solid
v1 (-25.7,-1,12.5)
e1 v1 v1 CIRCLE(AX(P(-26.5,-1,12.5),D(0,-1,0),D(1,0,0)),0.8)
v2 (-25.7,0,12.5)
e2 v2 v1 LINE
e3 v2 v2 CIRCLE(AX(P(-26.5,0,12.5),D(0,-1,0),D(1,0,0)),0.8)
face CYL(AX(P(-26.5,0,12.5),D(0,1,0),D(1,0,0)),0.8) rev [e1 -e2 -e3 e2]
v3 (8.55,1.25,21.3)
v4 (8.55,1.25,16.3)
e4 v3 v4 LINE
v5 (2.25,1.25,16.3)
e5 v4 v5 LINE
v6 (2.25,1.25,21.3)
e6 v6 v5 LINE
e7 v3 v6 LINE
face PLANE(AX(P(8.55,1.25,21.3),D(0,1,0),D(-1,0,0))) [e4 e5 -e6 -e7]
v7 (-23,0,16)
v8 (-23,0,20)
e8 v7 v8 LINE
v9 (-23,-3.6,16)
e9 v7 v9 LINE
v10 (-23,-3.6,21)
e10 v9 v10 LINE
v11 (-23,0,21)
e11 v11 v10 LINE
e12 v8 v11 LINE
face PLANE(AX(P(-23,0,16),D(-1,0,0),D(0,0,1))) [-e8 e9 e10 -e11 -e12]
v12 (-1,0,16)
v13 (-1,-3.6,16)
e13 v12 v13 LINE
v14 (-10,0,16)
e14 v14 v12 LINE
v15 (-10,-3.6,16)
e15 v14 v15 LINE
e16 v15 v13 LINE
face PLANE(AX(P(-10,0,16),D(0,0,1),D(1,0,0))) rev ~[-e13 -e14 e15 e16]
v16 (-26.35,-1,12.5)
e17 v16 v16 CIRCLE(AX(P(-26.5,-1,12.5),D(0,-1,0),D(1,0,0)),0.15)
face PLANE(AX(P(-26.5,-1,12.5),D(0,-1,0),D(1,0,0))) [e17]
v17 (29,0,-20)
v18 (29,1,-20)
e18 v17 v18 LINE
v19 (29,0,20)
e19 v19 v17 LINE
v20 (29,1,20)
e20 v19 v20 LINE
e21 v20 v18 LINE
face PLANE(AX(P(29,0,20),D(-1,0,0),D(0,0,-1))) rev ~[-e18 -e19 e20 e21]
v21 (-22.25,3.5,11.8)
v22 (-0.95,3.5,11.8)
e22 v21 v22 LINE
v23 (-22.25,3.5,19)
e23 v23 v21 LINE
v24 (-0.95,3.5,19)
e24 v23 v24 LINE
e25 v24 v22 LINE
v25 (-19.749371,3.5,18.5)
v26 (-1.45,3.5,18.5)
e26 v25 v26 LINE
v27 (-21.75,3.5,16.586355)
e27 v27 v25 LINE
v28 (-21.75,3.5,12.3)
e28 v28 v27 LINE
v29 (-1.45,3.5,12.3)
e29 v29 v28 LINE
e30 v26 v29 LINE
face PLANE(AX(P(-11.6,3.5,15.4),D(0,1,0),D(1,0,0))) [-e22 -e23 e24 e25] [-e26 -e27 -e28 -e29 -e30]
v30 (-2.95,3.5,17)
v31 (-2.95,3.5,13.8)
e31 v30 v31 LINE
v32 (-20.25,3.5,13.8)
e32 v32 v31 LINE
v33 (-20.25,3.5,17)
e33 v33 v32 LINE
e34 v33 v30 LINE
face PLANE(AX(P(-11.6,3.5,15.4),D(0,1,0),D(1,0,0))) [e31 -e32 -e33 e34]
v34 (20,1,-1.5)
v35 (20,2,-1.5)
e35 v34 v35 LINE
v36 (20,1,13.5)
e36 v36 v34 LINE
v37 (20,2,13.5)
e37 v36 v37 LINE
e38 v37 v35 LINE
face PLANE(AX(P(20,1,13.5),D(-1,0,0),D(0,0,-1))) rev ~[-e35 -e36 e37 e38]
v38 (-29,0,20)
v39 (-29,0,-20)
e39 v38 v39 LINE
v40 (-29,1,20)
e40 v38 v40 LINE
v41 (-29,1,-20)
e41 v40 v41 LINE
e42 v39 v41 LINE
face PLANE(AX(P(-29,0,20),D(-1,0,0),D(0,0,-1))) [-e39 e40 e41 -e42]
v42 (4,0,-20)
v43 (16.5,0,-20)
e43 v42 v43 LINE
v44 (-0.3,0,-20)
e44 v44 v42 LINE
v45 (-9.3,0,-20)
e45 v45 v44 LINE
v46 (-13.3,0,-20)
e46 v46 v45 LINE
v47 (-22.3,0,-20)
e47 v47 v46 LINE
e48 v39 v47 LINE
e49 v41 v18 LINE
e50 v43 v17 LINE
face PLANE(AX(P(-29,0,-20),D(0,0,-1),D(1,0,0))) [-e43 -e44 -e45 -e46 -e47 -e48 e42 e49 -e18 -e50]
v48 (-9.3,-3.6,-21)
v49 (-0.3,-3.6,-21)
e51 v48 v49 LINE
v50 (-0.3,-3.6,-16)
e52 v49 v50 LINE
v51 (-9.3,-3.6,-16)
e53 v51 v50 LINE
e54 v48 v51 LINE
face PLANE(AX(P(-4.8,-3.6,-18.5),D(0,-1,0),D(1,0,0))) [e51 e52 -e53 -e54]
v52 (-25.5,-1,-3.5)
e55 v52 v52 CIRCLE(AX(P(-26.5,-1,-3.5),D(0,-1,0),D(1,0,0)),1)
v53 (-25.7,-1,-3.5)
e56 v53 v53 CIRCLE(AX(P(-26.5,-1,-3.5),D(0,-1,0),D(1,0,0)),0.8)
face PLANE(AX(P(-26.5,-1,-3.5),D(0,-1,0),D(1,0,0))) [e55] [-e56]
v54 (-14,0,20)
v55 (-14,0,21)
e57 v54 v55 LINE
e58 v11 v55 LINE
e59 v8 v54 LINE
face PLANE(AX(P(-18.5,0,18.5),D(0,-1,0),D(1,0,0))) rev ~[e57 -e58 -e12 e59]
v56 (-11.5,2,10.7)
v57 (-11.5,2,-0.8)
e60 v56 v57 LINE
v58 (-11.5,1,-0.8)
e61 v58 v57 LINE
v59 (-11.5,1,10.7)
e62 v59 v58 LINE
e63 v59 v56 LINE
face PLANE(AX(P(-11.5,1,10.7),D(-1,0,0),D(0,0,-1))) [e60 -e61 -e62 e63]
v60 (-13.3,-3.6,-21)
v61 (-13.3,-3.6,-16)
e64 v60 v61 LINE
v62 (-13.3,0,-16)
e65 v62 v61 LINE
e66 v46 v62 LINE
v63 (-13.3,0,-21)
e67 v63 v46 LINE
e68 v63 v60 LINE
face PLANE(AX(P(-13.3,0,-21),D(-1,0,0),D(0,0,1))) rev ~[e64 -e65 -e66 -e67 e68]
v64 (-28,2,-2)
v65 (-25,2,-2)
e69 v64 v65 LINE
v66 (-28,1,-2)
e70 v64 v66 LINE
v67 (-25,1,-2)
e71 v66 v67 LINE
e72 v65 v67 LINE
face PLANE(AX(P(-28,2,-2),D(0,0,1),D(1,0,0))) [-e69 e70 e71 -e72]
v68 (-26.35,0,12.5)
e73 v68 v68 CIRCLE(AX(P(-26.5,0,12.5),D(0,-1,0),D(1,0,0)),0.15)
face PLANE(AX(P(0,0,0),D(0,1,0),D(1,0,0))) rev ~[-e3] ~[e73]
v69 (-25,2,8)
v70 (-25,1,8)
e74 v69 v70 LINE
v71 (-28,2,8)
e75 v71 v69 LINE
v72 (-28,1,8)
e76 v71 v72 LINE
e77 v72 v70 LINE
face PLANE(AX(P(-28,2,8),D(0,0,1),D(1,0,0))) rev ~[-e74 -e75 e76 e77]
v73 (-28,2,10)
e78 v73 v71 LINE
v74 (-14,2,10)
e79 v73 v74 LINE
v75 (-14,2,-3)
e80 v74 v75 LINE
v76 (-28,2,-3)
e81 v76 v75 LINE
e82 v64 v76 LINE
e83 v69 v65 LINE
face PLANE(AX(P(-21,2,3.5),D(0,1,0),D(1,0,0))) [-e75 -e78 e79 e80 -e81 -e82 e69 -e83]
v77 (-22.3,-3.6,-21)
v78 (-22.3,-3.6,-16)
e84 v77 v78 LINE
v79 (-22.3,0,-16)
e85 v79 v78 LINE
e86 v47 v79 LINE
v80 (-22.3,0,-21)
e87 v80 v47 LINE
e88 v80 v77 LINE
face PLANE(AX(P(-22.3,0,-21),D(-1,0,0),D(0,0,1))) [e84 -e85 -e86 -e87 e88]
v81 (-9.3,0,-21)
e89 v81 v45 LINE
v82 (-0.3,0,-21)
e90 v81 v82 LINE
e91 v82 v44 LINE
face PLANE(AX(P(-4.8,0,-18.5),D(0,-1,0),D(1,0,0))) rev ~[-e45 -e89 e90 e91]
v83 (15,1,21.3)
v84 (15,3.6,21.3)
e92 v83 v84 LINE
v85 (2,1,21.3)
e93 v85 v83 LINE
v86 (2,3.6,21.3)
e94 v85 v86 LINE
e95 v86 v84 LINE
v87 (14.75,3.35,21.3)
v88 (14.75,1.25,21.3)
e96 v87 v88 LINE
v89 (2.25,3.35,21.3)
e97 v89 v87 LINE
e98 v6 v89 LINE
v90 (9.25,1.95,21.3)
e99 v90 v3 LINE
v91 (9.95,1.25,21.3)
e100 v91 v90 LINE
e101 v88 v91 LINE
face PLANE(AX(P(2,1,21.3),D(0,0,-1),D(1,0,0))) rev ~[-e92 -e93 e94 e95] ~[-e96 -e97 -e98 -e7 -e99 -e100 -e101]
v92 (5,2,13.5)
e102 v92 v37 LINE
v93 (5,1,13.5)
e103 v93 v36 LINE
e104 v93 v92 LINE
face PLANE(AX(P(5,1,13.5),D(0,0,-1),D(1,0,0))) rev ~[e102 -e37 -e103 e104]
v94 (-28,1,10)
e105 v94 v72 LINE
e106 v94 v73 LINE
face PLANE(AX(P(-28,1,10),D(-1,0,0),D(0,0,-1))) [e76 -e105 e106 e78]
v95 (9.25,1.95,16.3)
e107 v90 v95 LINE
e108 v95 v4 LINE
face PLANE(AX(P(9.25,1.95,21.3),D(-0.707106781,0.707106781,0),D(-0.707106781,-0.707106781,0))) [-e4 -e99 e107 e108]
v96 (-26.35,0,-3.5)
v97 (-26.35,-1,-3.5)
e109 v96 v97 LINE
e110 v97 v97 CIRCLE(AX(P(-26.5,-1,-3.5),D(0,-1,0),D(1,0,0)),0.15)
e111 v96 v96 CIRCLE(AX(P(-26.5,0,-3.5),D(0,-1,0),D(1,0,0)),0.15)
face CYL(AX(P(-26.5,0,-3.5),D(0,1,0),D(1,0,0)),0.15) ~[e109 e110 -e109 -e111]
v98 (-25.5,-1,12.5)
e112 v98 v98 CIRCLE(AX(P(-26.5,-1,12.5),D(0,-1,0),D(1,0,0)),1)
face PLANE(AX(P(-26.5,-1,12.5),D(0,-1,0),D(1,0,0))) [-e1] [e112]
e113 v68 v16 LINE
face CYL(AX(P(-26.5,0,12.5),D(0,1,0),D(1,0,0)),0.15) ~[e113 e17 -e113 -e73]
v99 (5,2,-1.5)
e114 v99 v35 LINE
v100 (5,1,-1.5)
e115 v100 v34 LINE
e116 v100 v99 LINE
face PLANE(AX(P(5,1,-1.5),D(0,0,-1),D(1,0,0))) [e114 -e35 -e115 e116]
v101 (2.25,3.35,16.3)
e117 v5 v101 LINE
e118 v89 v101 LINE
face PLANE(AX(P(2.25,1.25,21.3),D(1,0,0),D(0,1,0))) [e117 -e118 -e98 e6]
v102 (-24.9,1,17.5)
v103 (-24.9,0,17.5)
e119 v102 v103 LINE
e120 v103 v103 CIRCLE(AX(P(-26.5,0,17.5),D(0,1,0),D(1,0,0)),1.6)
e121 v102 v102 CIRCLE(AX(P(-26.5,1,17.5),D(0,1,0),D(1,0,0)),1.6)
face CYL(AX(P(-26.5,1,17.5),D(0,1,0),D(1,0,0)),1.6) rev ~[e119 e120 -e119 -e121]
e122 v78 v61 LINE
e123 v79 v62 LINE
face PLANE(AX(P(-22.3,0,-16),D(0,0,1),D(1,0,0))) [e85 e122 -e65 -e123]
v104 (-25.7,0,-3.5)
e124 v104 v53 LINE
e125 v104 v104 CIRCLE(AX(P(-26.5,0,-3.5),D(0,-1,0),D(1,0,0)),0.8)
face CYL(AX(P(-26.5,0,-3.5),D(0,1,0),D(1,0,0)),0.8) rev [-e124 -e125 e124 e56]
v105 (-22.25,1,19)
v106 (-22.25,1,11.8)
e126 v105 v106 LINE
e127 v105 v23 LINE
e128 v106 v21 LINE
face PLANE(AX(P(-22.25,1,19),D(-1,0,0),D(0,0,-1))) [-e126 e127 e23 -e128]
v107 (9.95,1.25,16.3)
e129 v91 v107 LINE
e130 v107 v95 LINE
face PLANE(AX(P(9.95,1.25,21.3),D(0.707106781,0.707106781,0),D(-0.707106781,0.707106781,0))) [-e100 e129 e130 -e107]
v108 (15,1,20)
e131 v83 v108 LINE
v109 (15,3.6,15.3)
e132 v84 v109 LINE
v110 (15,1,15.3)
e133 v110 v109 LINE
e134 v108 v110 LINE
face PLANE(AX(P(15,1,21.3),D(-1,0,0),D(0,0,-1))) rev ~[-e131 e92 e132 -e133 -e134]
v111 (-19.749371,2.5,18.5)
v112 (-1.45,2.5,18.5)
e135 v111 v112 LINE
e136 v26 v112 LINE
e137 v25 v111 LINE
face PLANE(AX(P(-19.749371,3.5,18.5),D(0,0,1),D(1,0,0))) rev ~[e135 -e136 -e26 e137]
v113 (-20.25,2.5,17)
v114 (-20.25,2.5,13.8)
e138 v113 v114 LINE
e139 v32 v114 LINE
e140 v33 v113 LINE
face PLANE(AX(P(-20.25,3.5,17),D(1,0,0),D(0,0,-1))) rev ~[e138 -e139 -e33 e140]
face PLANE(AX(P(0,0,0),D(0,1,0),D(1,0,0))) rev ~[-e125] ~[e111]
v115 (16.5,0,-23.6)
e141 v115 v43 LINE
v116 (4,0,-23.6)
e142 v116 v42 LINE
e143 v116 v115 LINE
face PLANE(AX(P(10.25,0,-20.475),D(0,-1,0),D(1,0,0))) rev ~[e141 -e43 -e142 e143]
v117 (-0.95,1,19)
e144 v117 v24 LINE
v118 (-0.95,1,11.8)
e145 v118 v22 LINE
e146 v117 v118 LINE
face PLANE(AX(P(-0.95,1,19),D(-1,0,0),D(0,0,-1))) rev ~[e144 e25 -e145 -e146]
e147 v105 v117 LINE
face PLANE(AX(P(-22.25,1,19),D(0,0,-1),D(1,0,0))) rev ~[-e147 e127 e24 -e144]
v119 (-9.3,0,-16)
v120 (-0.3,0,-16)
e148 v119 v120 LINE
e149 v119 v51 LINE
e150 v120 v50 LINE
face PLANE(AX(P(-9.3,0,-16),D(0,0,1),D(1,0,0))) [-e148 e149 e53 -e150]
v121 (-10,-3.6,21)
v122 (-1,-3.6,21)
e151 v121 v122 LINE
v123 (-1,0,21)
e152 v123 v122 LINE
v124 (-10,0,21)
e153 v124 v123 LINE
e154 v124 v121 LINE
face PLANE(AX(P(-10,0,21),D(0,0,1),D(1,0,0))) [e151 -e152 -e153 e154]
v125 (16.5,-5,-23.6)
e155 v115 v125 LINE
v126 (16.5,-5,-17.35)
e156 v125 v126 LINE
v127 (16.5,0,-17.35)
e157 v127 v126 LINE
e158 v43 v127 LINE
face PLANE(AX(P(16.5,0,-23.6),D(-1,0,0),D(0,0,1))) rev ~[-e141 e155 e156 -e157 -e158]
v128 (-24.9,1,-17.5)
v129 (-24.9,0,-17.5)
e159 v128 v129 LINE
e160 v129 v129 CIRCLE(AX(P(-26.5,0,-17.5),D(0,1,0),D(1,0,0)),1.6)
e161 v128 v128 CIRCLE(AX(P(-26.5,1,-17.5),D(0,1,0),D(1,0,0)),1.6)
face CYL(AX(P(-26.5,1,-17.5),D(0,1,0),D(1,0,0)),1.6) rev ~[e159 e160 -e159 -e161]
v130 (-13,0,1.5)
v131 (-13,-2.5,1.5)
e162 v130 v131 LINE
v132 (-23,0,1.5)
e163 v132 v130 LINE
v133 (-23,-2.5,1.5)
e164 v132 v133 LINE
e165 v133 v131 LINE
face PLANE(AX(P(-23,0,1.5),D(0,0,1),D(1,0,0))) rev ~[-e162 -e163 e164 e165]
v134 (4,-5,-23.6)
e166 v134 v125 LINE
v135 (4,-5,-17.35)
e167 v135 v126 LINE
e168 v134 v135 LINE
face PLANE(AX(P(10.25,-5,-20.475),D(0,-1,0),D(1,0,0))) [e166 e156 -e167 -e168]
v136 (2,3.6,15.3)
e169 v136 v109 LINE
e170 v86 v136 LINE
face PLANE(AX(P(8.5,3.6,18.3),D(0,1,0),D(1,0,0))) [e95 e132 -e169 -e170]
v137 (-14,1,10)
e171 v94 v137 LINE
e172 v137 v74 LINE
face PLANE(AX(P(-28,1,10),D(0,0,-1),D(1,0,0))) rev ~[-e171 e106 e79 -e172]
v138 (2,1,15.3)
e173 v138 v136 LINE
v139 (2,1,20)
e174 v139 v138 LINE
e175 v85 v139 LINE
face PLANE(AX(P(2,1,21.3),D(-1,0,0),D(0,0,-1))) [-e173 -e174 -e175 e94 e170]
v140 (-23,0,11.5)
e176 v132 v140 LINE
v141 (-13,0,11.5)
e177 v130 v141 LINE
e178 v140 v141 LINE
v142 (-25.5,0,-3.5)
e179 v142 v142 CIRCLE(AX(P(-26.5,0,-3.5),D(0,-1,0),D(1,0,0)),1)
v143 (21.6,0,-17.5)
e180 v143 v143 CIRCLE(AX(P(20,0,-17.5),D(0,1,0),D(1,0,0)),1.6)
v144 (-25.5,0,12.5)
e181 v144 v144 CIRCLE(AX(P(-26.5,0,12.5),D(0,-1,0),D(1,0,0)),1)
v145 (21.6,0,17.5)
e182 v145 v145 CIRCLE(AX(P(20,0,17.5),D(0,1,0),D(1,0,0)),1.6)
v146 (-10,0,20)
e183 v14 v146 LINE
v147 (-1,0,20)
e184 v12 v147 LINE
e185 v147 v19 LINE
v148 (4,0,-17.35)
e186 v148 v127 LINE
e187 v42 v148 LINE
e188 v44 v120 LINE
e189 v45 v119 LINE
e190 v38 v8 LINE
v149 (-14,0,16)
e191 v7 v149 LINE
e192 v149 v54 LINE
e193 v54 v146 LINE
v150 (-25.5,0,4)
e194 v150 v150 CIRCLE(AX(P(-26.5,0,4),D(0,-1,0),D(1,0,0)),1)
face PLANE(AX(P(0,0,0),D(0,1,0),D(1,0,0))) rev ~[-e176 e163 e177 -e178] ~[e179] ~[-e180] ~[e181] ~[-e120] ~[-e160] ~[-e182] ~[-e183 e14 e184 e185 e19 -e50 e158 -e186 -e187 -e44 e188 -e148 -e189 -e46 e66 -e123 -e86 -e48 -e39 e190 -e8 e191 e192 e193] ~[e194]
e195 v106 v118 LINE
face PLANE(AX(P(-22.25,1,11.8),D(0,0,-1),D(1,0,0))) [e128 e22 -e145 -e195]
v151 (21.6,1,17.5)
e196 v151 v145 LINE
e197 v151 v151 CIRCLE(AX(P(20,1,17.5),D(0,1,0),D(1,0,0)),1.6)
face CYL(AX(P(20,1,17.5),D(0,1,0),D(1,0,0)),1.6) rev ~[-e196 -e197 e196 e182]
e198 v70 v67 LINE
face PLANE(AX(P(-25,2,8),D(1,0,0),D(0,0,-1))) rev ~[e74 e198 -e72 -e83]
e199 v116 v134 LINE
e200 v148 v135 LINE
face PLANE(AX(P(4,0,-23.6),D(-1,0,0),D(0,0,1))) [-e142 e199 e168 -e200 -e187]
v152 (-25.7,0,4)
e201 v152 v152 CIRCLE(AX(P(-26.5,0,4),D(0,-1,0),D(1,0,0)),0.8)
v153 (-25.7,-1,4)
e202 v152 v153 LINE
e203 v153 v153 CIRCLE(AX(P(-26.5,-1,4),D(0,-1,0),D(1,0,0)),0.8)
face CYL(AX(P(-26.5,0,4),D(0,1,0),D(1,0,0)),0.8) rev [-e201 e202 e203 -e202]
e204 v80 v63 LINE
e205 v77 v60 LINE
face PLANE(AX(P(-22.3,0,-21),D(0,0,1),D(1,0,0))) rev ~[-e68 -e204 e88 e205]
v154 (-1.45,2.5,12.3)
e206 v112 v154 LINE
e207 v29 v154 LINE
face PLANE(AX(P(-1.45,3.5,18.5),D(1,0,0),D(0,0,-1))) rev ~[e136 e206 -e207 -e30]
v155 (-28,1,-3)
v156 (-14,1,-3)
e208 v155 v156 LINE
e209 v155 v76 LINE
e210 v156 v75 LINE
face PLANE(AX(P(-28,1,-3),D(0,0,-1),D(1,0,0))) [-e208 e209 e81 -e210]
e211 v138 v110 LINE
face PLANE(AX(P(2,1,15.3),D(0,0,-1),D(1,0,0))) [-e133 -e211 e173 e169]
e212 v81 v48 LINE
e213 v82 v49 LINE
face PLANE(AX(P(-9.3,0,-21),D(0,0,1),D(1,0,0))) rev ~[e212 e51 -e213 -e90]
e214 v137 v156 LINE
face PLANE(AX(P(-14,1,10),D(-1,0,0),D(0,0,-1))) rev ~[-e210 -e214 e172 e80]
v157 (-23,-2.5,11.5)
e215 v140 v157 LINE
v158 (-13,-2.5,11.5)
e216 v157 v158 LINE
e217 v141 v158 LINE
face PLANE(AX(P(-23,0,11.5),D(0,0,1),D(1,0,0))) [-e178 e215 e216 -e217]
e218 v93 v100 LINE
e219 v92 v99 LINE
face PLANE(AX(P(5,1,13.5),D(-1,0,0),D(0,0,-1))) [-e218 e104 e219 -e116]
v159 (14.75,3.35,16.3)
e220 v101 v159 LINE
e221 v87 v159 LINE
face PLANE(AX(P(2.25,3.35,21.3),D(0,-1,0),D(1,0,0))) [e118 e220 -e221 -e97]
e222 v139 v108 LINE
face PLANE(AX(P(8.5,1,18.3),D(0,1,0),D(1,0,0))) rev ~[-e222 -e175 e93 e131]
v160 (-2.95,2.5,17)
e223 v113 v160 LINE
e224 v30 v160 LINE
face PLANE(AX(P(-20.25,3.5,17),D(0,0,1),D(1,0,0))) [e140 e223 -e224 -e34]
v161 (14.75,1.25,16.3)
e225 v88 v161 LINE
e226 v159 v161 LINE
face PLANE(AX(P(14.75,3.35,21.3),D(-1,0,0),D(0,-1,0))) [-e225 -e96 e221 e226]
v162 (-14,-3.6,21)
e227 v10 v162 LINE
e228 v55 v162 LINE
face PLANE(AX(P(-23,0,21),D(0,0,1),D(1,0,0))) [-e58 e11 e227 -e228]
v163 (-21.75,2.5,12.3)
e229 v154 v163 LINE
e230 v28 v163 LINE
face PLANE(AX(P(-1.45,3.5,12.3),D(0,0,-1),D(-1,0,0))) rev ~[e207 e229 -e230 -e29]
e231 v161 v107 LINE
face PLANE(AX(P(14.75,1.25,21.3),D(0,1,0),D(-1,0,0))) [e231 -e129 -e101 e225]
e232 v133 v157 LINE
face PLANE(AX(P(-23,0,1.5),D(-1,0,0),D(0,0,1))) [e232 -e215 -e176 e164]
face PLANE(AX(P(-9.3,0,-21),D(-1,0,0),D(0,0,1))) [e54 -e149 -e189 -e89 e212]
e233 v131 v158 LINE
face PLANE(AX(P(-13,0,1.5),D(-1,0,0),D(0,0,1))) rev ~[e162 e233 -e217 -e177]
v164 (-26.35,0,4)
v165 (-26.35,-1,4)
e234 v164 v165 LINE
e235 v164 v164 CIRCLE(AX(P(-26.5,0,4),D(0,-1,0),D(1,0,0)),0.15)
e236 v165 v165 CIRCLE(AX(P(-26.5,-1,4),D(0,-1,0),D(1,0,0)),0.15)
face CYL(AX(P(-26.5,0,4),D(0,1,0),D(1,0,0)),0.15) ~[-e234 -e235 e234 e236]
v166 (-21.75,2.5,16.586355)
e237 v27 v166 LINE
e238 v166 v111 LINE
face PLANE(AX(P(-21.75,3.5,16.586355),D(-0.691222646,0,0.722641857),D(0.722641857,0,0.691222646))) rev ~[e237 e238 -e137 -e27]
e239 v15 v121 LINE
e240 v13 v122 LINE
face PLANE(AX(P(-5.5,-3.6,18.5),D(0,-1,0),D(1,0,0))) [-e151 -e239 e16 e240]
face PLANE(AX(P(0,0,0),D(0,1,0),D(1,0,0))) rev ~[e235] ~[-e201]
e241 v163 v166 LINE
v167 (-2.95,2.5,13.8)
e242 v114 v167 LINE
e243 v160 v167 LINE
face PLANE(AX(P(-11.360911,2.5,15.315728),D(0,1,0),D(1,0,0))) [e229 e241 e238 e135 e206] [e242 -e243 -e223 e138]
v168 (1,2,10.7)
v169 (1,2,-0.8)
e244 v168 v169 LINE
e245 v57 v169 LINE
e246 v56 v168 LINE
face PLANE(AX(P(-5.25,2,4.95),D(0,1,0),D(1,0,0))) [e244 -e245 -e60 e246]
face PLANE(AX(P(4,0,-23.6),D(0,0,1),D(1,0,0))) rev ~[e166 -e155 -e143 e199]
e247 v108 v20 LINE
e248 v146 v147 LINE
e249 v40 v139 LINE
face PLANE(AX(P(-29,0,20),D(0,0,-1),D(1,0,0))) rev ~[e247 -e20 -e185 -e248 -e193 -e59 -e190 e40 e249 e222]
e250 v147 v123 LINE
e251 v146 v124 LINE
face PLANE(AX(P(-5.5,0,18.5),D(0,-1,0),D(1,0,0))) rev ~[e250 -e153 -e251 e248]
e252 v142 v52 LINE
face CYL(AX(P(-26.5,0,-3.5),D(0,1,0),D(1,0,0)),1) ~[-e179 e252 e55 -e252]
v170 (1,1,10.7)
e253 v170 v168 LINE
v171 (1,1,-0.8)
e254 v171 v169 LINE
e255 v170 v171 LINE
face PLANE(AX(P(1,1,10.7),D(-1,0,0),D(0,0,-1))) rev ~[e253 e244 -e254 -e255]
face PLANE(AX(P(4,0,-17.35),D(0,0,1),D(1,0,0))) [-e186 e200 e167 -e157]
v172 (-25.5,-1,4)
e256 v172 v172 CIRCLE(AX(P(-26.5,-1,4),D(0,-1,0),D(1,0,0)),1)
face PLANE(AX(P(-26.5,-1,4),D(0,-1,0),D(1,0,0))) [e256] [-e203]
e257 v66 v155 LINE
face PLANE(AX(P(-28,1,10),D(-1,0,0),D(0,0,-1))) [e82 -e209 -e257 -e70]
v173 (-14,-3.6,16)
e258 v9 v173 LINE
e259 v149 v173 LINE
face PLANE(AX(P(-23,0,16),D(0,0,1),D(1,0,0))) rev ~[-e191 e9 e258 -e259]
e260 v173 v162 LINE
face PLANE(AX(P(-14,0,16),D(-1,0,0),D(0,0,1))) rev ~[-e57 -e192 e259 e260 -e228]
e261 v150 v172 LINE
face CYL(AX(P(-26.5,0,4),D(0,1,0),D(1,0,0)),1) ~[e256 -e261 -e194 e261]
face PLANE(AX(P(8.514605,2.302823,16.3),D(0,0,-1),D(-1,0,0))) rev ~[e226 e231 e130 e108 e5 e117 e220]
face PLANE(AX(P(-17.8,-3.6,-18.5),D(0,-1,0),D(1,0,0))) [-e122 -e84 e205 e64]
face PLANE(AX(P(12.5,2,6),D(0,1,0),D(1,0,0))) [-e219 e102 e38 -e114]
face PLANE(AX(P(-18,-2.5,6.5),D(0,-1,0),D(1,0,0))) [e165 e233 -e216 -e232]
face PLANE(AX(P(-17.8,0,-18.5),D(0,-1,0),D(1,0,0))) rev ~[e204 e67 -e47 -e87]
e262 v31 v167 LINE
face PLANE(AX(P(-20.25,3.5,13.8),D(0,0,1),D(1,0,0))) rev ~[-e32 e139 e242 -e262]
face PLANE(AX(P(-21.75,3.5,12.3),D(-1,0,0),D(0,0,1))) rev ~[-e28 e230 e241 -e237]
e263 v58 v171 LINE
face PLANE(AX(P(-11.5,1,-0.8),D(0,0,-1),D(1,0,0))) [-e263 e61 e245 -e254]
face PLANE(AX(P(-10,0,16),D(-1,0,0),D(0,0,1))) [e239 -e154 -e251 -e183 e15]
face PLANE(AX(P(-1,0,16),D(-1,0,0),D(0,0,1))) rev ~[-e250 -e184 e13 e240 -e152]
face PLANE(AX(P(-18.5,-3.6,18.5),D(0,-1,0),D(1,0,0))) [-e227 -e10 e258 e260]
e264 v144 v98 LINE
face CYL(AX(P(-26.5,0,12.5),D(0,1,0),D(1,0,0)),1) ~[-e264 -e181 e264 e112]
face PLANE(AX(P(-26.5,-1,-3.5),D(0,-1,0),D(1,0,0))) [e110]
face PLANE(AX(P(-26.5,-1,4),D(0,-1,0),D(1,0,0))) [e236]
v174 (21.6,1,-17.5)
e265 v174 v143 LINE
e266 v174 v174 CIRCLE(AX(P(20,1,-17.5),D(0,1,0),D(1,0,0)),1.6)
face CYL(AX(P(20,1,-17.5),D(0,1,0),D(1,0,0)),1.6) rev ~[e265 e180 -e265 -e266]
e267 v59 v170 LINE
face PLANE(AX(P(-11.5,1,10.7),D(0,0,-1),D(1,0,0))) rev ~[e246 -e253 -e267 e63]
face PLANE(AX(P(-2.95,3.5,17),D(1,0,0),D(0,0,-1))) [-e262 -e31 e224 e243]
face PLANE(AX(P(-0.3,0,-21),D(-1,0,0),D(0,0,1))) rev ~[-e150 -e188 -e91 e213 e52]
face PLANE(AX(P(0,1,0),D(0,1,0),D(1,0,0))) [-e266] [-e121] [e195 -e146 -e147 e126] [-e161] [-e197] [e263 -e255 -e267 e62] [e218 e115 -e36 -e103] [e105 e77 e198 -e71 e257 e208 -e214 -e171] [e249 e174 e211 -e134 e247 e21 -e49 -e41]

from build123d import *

# Parameters (mm, degrees)
SKETCH1_W            = 58
SKETCH1_H            = 40
BOSS_EXTRUDE1_DEPTH  = 1
SKETCH2_W            = 14
SKETCH2_H            = 13
BOSS_EXTRUDE2_DEPTH  = 1
SKETCH3_W            = 3
SKETCH3_H            = 10
CUT_EXTRUDE1_DEPTH   = 1
SKETCH4_W            = 12.5
SKETCH4_H            = 11.5
SKETCH4_W_2          = 15
SKETCH4_H_2          = 15
BOSS_EXTRUDE3_DEPTH  = 1
SKETCH5_W            = 13
SKETCH5_H            = 6
BOSS_EXTRUDE4_DEPTH  = 2.6
CUT_EXTRUDE2_DEPTH   = 5
SKETCH7_W            = 21.3
SKETCH7_H            = 7.2
BOSS_EXTRUDE5_DEPTH  = 2.5
SKETCH8_W            = 17.3
SKETCH8_H            = 3.2
CUT_EXTRUDE3_DEPTH   = 1
SKETCH9_R            = 1.6
CUT_EXTRUDE4_DEPTH   = 2
SKETCH10_W           = 9
SKETCH10_H           = 5
BOSS_EXTRUDE6_DEPTH  = 3.6
SKETCH11_W           = 12.5
SKETCH11_H           = 6.25
BOSS_EXTRUDE7_DEPTH  = 5
SKETCH12_W           = 10
SKETCH12_H           = 10
BOSS_EXTRUDE8_DEPTH  = 2.5
SKETCH13_R           = 1
SKETCH13_R_2         = 0.8
BOSS_EXTRUDE9_DEPTH  = 1
SKETCH14_R           = 0.15
BOSS_EXTRUDE10_DEPTH = 1


with BuildPart() as part:
    # Sketch1 → Boss-Extrude1 (new body)
    with BuildSketch(Plane(origin=(0, 0, 0), x_dir=(1, 0, 0), z_dir=(0, 1, 0))):
        Rectangle(SKETCH1_W, SKETCH1_H)
    extrude(amount=BOSS_EXTRUDE1_DEPTH)

    # Sketch2 → Boss-Extrude2 (add)
    with BuildSketch(Plane(origin=(0, 1, 0), x_dir=(1, 0, 0), z_dir=(0, 1, 0))):
        with Locations((-21, -3.5)):
            Rectangle(SKETCH2_W, SKETCH2_H)
    extrude(amount=BOSS_EXTRUDE2_DEPTH)

    # Sketch3 → Cut-Extrude1 (cut)
    with BuildSketch(Plane(origin=(0, 2, 0), x_dir=(1, 0, 0), z_dir=(0, 1, 0))):
        with Locations((-26.5, -3)):
            Rectangle(SKETCH3_W, SKETCH3_H)
    extrude(amount=-CUT_EXTRUDE1_DEPTH, mode=Mode.SUBTRACT)

    # Sketch4 → Boss-Extrude3 (add)
    with BuildSketch(Plane(origin=(0, 1, 0), x_dir=(1, 0, 0), z_dir=(0, 1, 0))):
        with Locations((-5.25, -4.95)):
            Rectangle(SKETCH4_W, SKETCH4_H)
        with Locations((12.5, -6)):
            Rectangle(SKETCH4_W_2, SKETCH4_H_2)
    extrude(amount=BOSS_EXTRUDE3_DEPTH)

    # Sketch5 → Boss-Extrude4 (add)
    with BuildSketch(Plane(origin=(0, 1, 0), x_dir=(1, 0, 0), z_dir=(0, 1, 0))):
        with Locations((8.5, -18.3)):
            Rectangle(SKETCH5_W, SKETCH5_H)
    extrude(amount=BOSS_EXTRUDE4_DEPTH)

    # Sketch6 → Cut-Extrude2 (cut)
    with BuildSketch(Plane.XY.offset(21.3)):
        Polygon((2.25, 3.35), (14.75, 3.35), (14.75, 1.25), (9.95, 1.25), (9.25, 1.95), (8.55, 1.25), (2.25, 1.25), align=None)
    extrude(amount=-CUT_EXTRUDE2_DEPTH, mode=Mode.SUBTRACT)

    # Sketch7 → Boss-Extrude5 (add)
    with BuildSketch(Plane(origin=(0, 1, 0), x_dir=(1, 0, 0), z_dir=(0, 1, 0))):
        with Locations((-11.6, -15.4)):
            Rectangle(SKETCH7_W, SKETCH7_H)
    extrude(amount=BOSS_EXTRUDE5_DEPTH)

    # Sketch8 → Cut-Extrude3 (cut)
    with BuildSketch(Plane(origin=(0, 3.5, 0), x_dir=(1, 0, 0), z_dir=(0, 1, 0))):
        Polygon((-21.75, -12.3), (-21.75, -16.586355197), (-19.749371343, -18.5), (-1.45, -18.5), (-1.45, -12.3), align=None)
        with Locations((-11.6, -15.4)):
            Rectangle(SKETCH8_W, SKETCH8_H, mode=Mode.SUBTRACT)
    extrude(amount=-CUT_EXTRUDE3_DEPTH, mode=Mode.SUBTRACT)

    # Sketch9 → Cut-Extrude4 (cut, through all)
    with BuildSketch(Plane(origin=(0, 1, 0), x_dir=(1, 0, 0), z_dir=(0, 1, 0))):
        with Locations((-26.5, 17.5)):
            Circle(SKETCH9_R)
        with Locations((20, 17.5)):
            Circle(SKETCH9_R)
        with Locations((20, -17.5)):
            Circle(SKETCH9_R)
        with Locations((-26.5, -17.5)):
            Circle(SKETCH9_R)
    extrude(amount=-CUT_EXTRUDE4_DEPTH, mode=Mode.SUBTRACT)

    # Sketch10 → Boss-Extrude6 (add)
    with BuildSketch(Plane.XZ):
        with Locations((-18.5, 18.5)):
            Rectangle(SKETCH10_W, SKETCH10_H)
        with Locations((-5.5, 18.5)):
            Rectangle(SKETCH10_W, SKETCH10_H)
        with Locations((-17.8, -18.5)):
            Rectangle(SKETCH10_W, SKETCH10_H)
        with Locations((-4.8, -18.5)):
            Rectangle(SKETCH10_W, SKETCH10_H)
    extrude(amount=BOSS_EXTRUDE6_DEPTH)

    # Sketch11 → Boss-Extrude7 (add)
    with BuildSketch(Plane.XZ):
        with Locations((10.25, -20.475)):
            Rectangle(SKETCH11_W, SKETCH11_H)
    extrude(amount=BOSS_EXTRUDE7_DEPTH)

    # Sketch12 → Boss-Extrude8 (add)
    with BuildSketch(Plane.XZ):
        with Locations((-18, 6.5)):
            Rectangle(SKETCH12_W, SKETCH12_H)
    extrude(amount=BOSS_EXTRUDE8_DEPTH)

    # Sketch13 → Boss-Extrude9 (add)
    with BuildSketch(Plane.XZ):
        with Locations((-26.5, 12.5)):
            Circle(SKETCH13_R)
        with Locations((-26.5, 12.5)):
            Circle(SKETCH13_R_2, mode=Mode.SUBTRACT)
        with Locations((-26.5, 4)):
            Circle(SKETCH13_R)
        with Locations((-26.5, 4)):
            Circle(SKETCH13_R_2, mode=Mode.SUBTRACT)
        with Locations((-26.5, -3.5)):
            Circle(SKETCH13_R)
        with Locations((-26.5, -3.5)):
            Circle(SKETCH13_R_2, mode=Mode.SUBTRACT)
    extrude(amount=BOSS_EXTRUDE9_DEPTH)

    # Sketch14 → Boss-Extrude10 (add)
    with BuildSketch(Plane.XZ):
        with Locations((-26.5, 12.5)):
            Circle(SKETCH14_R)
        with Locations((-26.5, 4)):
            Circle(SKETCH14_R)
        with Locations((-26.5, -3.5)):
            Circle(SKETCH14_R)
    extrude(amount=BOSS_EXTRUDE10_DEPTH)


solid = part.part
